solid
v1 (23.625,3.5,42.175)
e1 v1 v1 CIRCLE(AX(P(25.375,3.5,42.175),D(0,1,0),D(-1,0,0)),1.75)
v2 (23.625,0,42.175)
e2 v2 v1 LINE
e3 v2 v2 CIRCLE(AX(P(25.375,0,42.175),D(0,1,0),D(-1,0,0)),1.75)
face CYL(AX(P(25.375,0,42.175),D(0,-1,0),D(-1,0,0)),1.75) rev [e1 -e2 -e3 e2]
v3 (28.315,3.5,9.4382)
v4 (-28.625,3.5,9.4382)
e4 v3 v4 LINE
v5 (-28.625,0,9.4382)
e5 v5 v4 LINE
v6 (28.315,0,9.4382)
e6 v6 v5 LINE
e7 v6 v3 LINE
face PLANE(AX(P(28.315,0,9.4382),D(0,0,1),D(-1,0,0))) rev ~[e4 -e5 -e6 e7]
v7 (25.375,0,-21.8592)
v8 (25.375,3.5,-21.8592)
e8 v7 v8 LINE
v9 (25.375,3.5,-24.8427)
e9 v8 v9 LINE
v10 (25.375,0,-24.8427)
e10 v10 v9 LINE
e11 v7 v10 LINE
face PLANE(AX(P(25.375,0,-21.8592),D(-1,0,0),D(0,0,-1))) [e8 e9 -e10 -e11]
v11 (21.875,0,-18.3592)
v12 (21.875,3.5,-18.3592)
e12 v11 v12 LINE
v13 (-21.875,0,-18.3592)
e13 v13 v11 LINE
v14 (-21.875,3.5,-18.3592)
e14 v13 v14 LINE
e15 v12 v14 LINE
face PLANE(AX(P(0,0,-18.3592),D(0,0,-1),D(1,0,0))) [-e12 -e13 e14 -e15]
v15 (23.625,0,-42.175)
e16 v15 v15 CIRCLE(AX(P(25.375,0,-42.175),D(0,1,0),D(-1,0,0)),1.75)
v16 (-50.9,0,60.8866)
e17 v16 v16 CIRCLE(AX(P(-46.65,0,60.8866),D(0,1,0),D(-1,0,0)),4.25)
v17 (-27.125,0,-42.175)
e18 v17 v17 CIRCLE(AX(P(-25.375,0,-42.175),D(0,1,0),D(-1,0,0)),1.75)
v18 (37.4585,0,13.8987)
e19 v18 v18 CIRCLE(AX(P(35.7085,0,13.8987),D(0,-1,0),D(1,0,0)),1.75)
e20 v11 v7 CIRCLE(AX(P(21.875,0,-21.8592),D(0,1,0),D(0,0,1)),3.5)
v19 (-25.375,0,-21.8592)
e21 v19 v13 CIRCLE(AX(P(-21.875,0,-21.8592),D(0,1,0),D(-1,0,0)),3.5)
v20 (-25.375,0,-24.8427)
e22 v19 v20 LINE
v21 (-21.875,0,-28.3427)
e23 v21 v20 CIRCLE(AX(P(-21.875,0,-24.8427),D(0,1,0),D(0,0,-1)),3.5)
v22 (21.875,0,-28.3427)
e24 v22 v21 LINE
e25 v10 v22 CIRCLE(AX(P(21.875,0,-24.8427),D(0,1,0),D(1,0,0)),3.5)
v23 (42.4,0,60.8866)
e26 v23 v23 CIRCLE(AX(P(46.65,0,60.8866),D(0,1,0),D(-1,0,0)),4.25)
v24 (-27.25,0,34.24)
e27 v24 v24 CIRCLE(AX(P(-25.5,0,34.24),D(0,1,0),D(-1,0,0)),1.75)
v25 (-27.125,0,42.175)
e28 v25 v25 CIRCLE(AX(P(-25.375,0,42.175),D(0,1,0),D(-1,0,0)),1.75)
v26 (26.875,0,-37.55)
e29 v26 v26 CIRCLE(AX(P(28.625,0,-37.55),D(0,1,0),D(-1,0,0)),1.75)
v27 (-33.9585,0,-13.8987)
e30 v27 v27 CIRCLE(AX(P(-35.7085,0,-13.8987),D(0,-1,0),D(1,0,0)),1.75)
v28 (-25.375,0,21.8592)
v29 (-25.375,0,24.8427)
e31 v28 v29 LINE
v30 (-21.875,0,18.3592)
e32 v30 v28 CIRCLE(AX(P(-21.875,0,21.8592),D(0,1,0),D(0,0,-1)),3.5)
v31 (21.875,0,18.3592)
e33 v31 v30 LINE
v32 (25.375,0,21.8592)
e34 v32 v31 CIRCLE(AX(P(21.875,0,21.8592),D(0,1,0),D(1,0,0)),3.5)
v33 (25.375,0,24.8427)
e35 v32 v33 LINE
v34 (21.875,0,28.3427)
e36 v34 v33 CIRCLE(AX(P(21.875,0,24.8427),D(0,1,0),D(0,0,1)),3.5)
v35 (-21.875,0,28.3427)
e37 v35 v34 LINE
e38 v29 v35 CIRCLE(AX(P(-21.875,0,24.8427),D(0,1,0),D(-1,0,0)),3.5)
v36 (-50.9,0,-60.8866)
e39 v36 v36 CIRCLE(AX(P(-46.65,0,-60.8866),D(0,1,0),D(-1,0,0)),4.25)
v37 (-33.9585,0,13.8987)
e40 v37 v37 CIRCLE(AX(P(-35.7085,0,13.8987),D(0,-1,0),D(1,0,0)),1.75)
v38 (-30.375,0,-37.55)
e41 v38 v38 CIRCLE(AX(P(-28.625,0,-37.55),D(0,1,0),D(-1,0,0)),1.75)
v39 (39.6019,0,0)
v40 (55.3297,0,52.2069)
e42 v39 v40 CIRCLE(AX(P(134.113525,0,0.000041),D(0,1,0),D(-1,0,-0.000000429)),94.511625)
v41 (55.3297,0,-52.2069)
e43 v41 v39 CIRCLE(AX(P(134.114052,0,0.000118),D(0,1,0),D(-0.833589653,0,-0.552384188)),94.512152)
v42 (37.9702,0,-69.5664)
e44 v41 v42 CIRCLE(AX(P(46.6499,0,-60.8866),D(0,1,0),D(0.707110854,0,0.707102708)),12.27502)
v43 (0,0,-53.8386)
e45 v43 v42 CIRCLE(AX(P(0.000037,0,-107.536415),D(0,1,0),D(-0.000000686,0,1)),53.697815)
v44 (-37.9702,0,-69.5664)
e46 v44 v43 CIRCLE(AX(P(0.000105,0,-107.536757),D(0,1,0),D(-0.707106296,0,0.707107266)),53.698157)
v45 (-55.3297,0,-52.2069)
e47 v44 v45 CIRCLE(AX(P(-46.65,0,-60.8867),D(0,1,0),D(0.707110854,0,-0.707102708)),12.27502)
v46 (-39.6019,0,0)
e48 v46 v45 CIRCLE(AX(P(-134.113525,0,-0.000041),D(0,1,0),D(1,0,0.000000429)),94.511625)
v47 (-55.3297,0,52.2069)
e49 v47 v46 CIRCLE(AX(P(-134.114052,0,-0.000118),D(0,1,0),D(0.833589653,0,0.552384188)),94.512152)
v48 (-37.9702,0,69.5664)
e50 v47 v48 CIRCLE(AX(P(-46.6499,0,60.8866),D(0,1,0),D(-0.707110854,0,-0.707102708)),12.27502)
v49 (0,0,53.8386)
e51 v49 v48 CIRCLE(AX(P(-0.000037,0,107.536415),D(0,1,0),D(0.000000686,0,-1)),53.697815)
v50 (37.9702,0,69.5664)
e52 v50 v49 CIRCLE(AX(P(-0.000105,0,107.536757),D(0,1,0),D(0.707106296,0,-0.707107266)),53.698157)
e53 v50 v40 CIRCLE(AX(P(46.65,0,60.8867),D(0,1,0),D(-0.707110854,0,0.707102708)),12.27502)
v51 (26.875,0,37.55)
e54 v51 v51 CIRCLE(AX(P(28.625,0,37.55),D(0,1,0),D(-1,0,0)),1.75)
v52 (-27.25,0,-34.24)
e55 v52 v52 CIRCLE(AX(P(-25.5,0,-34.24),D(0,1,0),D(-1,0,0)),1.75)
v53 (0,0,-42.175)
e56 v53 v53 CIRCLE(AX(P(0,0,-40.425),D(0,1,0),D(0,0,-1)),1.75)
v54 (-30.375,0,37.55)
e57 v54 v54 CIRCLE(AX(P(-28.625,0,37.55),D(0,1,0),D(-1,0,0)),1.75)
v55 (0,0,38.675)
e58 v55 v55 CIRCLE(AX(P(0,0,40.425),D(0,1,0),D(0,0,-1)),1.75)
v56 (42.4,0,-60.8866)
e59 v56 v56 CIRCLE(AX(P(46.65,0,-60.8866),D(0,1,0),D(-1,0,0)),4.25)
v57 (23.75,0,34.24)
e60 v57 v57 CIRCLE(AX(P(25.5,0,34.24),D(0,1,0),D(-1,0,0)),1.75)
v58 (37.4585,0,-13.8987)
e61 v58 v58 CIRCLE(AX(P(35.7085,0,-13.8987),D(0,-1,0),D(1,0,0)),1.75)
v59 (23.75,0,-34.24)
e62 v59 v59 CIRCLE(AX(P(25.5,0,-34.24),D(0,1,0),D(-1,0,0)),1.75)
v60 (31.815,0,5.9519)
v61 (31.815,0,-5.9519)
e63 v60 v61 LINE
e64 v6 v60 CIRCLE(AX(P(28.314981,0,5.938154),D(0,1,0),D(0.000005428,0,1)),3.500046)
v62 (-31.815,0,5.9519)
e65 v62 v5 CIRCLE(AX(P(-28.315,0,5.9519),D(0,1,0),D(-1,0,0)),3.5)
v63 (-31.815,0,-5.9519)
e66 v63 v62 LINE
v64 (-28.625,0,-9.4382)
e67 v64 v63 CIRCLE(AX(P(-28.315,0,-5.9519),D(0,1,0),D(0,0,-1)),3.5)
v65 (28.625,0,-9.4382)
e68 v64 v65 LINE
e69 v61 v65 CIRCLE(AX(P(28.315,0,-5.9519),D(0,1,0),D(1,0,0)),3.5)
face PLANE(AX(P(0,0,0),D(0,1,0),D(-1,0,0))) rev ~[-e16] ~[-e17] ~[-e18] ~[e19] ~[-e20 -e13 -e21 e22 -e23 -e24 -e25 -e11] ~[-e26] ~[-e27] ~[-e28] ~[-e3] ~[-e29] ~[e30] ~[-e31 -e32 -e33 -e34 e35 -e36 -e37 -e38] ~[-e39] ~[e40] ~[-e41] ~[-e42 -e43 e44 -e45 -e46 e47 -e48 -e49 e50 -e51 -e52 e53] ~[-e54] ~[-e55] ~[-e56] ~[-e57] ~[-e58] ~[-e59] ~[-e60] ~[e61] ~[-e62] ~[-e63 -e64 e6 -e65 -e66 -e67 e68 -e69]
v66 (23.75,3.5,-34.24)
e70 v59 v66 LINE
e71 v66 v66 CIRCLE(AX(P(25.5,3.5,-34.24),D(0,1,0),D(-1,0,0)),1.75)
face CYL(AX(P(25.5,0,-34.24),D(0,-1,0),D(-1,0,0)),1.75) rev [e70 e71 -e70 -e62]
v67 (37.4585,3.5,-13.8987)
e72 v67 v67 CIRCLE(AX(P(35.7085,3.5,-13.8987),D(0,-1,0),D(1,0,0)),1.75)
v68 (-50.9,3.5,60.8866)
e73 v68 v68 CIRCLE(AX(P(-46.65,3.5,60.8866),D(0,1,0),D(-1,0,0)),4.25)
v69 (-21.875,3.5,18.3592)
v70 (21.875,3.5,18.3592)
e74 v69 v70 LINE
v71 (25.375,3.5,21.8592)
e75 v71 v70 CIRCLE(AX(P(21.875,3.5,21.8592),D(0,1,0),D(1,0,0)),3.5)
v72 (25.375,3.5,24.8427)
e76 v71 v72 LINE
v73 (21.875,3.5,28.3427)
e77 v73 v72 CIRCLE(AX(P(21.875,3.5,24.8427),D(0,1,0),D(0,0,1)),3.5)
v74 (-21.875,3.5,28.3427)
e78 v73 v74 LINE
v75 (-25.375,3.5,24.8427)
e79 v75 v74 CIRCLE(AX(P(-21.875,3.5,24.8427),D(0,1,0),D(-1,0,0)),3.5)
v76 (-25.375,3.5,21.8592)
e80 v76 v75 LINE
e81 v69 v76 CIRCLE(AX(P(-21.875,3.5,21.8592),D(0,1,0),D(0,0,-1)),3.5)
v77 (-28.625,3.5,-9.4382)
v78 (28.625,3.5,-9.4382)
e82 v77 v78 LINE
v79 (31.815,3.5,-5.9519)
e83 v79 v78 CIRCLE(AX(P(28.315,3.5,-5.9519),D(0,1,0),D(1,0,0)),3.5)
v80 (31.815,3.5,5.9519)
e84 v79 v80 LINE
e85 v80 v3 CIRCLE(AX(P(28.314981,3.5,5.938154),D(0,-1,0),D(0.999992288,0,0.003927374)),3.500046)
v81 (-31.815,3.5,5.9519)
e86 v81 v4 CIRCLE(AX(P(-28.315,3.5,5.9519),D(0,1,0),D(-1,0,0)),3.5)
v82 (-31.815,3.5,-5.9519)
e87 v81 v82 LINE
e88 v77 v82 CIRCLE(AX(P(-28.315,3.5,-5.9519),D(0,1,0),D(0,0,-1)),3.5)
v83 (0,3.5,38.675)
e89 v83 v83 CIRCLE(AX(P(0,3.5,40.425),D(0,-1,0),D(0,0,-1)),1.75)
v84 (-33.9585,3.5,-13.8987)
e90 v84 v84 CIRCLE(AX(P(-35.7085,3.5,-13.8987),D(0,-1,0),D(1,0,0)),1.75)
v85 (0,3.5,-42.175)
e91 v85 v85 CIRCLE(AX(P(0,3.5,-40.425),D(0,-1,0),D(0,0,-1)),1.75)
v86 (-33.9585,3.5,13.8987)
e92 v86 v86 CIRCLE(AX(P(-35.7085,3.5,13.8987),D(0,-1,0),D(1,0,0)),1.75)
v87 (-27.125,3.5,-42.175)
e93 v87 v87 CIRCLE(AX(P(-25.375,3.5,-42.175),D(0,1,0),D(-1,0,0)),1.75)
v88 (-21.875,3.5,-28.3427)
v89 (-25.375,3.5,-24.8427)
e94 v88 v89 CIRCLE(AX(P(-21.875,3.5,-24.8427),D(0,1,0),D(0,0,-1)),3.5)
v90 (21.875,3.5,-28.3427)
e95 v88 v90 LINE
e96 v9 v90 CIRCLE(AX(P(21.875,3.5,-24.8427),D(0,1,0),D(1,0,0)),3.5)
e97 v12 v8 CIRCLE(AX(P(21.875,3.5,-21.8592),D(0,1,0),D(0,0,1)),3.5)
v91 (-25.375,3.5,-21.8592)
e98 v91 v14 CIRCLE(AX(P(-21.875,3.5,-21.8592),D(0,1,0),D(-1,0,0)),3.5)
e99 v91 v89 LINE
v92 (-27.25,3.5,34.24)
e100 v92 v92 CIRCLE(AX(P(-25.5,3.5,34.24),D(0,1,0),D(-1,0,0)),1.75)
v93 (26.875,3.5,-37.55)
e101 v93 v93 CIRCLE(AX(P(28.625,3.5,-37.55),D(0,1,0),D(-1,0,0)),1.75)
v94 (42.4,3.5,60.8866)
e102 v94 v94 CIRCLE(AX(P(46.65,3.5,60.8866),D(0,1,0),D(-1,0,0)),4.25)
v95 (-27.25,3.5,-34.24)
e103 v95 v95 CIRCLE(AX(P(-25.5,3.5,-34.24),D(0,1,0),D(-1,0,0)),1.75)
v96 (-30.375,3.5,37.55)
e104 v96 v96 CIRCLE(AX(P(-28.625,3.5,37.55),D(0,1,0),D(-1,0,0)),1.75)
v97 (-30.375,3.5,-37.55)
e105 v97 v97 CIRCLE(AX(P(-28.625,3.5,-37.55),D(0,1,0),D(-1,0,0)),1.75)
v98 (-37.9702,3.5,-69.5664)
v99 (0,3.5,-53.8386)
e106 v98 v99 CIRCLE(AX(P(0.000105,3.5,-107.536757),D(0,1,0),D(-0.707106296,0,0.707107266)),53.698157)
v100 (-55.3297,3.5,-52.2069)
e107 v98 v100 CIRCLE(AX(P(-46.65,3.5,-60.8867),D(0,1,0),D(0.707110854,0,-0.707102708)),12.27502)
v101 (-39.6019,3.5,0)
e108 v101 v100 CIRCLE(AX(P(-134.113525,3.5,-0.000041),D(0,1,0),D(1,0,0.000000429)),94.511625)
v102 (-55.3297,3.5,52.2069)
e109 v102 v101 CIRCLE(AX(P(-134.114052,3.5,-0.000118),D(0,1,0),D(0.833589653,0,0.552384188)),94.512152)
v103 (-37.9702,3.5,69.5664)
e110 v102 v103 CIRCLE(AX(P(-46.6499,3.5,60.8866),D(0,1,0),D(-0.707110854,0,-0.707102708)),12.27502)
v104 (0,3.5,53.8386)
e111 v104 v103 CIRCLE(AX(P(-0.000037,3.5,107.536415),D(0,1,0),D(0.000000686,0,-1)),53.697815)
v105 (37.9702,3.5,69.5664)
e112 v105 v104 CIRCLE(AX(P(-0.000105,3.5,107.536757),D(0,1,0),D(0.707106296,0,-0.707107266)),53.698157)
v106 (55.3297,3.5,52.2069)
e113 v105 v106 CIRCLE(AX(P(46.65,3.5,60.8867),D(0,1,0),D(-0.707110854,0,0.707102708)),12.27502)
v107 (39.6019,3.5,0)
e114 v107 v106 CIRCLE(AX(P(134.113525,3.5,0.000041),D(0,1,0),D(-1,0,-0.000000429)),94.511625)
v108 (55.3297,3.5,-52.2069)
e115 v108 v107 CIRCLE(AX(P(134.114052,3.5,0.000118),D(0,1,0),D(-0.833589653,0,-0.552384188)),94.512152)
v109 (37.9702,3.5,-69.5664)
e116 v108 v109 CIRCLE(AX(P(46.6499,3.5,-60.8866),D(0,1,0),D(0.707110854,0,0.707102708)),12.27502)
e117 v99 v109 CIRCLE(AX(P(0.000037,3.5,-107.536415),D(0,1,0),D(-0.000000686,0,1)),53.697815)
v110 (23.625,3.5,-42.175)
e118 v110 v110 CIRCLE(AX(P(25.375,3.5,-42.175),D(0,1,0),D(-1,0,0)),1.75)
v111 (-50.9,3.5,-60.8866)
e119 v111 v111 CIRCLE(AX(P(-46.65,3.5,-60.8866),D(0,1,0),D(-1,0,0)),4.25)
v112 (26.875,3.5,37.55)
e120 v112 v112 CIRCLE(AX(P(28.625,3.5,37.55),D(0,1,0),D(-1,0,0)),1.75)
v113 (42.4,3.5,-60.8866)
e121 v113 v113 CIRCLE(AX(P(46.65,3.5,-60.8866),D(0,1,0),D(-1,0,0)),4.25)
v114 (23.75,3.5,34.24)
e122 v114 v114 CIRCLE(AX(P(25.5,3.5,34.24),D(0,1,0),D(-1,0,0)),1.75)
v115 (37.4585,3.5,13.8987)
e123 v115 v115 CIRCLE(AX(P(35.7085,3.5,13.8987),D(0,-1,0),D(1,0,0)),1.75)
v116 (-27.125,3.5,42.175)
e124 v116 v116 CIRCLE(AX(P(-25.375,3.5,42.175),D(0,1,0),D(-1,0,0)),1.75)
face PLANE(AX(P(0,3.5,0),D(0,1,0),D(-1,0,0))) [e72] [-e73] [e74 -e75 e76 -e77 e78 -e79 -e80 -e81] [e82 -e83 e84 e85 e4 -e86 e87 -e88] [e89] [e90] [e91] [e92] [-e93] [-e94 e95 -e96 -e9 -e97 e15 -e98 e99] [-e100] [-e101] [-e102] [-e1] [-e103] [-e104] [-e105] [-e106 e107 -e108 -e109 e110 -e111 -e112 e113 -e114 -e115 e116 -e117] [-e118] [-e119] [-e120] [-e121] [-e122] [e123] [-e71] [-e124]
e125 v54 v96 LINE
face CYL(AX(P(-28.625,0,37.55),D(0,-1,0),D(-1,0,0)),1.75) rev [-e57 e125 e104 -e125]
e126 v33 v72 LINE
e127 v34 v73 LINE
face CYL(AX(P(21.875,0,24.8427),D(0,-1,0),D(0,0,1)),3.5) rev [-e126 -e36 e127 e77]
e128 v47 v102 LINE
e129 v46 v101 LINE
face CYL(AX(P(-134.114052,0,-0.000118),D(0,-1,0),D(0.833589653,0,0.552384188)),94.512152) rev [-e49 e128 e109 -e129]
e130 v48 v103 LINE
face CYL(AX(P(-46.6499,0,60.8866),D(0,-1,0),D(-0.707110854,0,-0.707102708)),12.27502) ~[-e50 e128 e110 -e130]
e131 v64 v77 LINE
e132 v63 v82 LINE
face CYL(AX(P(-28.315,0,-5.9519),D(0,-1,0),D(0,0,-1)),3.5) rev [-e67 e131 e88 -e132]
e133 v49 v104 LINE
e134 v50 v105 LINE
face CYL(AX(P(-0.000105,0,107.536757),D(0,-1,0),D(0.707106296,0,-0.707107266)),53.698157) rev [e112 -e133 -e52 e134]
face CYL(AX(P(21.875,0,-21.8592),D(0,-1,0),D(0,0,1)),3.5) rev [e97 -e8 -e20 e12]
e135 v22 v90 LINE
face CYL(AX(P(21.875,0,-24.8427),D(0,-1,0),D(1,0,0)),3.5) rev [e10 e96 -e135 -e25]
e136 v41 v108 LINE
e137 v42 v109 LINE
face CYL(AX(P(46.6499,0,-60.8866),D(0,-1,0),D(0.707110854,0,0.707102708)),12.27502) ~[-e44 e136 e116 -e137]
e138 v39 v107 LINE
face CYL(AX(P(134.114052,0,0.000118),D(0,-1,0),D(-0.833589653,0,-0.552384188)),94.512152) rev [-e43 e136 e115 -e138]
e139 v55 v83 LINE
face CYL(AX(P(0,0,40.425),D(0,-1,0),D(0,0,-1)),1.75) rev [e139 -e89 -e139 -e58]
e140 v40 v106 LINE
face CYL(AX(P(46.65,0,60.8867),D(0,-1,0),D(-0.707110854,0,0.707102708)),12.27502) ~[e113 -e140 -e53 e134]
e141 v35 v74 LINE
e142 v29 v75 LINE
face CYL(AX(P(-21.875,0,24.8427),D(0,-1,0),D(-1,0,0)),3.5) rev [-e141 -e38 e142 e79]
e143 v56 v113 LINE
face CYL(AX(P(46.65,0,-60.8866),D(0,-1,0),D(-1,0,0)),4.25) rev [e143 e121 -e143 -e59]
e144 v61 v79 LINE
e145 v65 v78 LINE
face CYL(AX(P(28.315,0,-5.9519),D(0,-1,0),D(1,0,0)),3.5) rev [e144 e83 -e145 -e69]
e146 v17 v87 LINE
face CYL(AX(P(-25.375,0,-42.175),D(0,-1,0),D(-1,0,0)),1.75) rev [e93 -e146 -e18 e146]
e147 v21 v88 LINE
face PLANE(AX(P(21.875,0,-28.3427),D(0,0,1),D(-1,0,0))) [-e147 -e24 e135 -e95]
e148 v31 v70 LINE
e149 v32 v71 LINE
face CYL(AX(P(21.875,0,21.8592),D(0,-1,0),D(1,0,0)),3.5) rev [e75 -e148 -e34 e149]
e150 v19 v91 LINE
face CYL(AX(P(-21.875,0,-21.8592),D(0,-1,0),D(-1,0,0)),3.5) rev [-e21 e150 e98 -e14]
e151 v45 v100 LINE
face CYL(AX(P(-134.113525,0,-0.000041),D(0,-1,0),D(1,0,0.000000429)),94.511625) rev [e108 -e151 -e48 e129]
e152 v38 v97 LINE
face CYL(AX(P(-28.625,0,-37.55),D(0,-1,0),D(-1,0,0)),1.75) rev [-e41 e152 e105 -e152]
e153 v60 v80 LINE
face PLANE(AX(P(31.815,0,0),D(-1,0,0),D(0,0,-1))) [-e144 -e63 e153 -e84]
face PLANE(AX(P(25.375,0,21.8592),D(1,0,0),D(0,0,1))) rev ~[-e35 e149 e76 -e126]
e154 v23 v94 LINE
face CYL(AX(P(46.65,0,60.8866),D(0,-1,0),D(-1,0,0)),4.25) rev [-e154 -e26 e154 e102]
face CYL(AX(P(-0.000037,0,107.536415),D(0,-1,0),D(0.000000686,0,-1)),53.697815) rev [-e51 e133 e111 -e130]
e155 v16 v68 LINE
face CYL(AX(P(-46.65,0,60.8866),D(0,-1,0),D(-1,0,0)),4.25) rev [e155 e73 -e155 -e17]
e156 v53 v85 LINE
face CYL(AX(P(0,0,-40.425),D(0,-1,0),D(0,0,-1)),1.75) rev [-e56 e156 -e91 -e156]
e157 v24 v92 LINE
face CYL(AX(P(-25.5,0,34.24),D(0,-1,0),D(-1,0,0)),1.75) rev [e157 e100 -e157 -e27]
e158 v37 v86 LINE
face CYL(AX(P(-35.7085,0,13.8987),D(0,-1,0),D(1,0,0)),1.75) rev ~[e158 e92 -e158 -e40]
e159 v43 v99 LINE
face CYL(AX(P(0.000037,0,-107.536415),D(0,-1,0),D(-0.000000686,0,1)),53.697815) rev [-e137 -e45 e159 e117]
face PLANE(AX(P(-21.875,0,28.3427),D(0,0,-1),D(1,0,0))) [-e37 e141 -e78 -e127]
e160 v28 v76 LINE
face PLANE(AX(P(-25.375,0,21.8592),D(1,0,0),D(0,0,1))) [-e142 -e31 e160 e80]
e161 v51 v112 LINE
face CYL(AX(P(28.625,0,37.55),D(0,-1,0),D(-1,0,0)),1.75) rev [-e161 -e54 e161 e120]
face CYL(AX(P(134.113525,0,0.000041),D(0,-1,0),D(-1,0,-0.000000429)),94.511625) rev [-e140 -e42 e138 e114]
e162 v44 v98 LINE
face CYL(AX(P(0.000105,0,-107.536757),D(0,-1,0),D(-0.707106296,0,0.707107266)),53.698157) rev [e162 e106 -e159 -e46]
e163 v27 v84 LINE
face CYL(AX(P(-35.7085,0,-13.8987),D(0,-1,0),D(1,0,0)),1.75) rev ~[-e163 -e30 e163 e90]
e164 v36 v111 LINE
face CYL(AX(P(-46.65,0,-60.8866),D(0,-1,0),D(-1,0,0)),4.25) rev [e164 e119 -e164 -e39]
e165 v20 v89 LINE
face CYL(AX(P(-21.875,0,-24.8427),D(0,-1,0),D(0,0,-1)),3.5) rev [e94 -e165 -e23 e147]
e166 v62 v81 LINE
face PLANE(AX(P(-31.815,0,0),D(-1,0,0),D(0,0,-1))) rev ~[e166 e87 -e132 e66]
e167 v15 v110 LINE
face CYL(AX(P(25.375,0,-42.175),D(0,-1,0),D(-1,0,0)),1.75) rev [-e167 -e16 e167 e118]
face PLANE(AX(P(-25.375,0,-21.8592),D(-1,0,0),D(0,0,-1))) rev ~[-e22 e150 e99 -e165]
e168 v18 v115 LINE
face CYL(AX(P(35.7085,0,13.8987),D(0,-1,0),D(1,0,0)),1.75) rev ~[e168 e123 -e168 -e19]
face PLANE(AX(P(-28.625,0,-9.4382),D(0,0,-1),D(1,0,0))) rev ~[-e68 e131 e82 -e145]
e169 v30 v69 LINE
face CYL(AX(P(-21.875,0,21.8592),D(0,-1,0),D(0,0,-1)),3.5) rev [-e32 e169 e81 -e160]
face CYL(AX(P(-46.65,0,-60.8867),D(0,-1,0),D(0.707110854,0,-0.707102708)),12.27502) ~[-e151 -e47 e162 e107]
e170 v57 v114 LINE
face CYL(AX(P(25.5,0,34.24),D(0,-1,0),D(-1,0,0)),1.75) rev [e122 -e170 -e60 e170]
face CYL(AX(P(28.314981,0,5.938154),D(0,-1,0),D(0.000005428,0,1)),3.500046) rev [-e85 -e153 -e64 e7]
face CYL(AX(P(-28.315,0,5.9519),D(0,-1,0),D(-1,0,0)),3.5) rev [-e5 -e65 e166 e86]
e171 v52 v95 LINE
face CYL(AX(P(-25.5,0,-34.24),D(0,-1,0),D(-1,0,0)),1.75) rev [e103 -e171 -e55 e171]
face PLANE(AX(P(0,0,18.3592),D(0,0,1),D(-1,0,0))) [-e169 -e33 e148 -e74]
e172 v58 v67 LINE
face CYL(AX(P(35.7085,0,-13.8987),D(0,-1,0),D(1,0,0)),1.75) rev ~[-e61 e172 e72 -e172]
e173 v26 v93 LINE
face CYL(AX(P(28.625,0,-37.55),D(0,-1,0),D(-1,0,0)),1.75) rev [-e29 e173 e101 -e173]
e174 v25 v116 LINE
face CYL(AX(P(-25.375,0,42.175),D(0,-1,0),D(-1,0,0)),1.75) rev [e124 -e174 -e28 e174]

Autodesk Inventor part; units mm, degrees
ref_plane "YZ Plane" through (0, 0, 0) normal (1, 0, 0) x (0, 1, 0)
ref_plane "XZ Plane" through (0, 0, 0) normal (0, 1, 0) x (-1, 0, 0)
ref_plane "XY Plane" through (0, 0, 0) normal (0, 0, 1) x (1, 0, 0)
sketch "Sketch1" plane through (0, 0, 0) normal (0, 1, 0) x (-1, 0, 0)
  arc A0 (39.6019, 0) -> (55.3297, -52.2069) centre (134.1138, 0) ccw
  circle A1 centre (28.625, -37.55) radius 1.75
  circle A2 centre (25.375, -42.175) radius 1.75
  circle A3 centre (46.65, -60.8866) radius 4.25
  arc A4 (37.9702, -69.5664) -> (55.3297, -52.2069) centre (46.65, -60.8866) ccw
  arc A5 (37.9702, -69.5664) -> (0, -53.8386) centre (0, -107.5366) ccw
  line L0 (28.315, -9.4519) -> (0.0544, -9.4519)
  arc A6 (28.315, -9.4519) -> (28.625, -9.4382) centre (28.315, -5.9519) ccw
  arc A7 (28.315, -9.4519) -> (31.815, -5.9519) centre (28.315, -5.9519) ccw
  line L1 (31.815, 0) -> (31.815, -5.9519)
  circle A8 centre (46.65, -60.8866) radius 4.25
  circle A9 centre (25.375, -42.175) radius 1.75
  circle A10 centre (28.625, -37.55) radius 1.75
  arc A11 (39.6019, 0) -> (55.3297, -52.2069) centre (134.1138, 0) ccw
  arc A12 (37.9702, -69.5664) -> (0, -53.8386) centre (0, -107.5366) ccw
  line L2 (39.6019, 0) -> (0, 0) construction
  line L3 (0, -18.3592) -> (21.875, -18.3592)
  line L4 (25.375, -21.8592) -> (25.375, -24.8427)
  line L5 (21.875, -28.3427) -> (0, -28.3427)
  arc A13 (25.375, -21.8592) -> (21.875, -18.3592) centre (21.875, -21.8592) ccw
  arc A14 (21.875, -28.3427) -> (25.375, -24.8427) centre (21.875, -24.8427) ccw
  arc A15 (0, -42.175) -> (0, -38.675) centre (0, -40.425) ccw
  line L6 (0, -53.8386) -> (0, -42.175) construction
  line L7 (31.815, 0) -> (31.815, 5.9519)
  arc A16 (31.815, 5.9519) -> (28.315, 9.4519) centre (28.315, 5.9519) ccw
  arc A17 (28.625, 9.4382) -> (28.315, 9.4519) centre (28.315, 5.9519) ccw
  line L8 (28.315, 9.4519) -> (0.0544, 9.4519)
  arc A18 (55.3297, 52.2069) -> (39.6019, 0) centre (134.1138, 0) ccw
  circle A19 centre (28.625, 37.55) radius 1.75
  circle A20 centre (25.375, 42.175) radius 1.75
  arc A21 (0, 53.8386) -> (37.9702, 69.5664) centre (0, 107.5366) ccw
  circle A22 centre (46.65, 60.8866) radius 4.25
  arc A23 (55.3297, 52.2069) -> (37.9702, 69.5664) centre (46.65, 60.8866) ccw
  circle A24 centre (46.65, 60.8866) radius 4.25
  circle A25 centre (25.375, 42.175) radius 1.75
  circle A26 centre (28.625, 37.55) radius 1.75
  arc A27 (55.3297, 52.2069) -> (39.6019, 0) centre (134.1138, 0) ccw
  arc A28 (0, 53.8386) -> (37.9702, 69.5664) centre (0, 107.5366) ccw
  line L9 (0, 18.3592) -> (21.875, 18.3592)
  line L10 (25.375, 21.8592) -> (25.375, 24.8427)
  line L11 (21.875, 28.3427) -> (0, 28.3427)
  arc A29 (21.875, 18.3592) -> (25.375, 21.8592) centre (21.875, 21.8592) ccw
  arc A30 (25.375, 24.8427) -> (21.875, 28.3427) centre (21.875, 24.8427) ccw
  arc A31 (0, 38.675) -> (0, 42.175) centre (0, 40.425) ccw
  line L12 (0, 53.8386) -> (0, 42.175) construction
  line L13 (0, 38.675) -> (0, 0) construction
  line L14 (-31.815, 0) -> (-31.815, -5.9519)
  arc A32 (-31.815, -5.9519) -> (-28.315, -9.4519) centre (-28.315, -5.9519) ccw
  arc A33 (-28.625, -9.4382) -> (-28.315, -9.4519) centre (-28.315, -5.9519) ccw
  line L15 (-28.315, -9.4519) -> (-0.0544, -9.4519)
  arc A34 (-55.3297, -52.2069) -> (-39.6019, 0) centre (-134.1138, 0) ccw
  circle A35 centre (-28.625, -37.55) radius 1.75
  circle A36 centre (-25.375, -42.175) radius 1.75
  arc A37 (0, -53.8386) -> (-37.9702, -69.5664) centre (0, -107.5366) ccw
  circle A38 centre (-46.65, -60.8866) radius 4.25
  arc A39 (-55.3297, -52.2069) -> (-37.9702, -69.5664) centre (-46.65, -60.8866) ccw
  circle A40 centre (-46.65, -60.8866) radius 4.25
  circle A41 centre (-25.375, -42.175) radius 1.75
  circle A42 centre (-28.625, -37.55) radius 1.75
  arc A43 (-55.3297, -52.2069) -> (-39.6019, 0) centre (-134.1138, 0) ccw
  arc A44 (0, -53.8386) -> (-37.9702, -69.5664) centre (0, -107.5366) ccw
  line L16 (0, -18.3592) -> (-21.875, -18.3592)
  line L17 (-25.375, -21.8592) -> (-25.375, -24.8427)
  line L18 (-21.875, -28.3427) -> (0, -28.3427)
  arc A45 (-21.875, -18.3592) -> (-25.375, -21.8592) centre (-21.875, -21.8592) ccw
  arc A46 (-25.375, -24.8427) -> (-21.875, -28.3427) centre (-21.875, -24.8427) ccw
  arc A47 (0, -38.675) -> (0, -42.175) centre (0, -40.425) ccw
  line L19 (0, 18.3592) -> (-21.875, 18.3592)
  arc A48 (-25.375, 21.8592) -> (-21.875, 18.3592) centre (-21.875, 21.8592) ccw
  line L20 (-28.315, 9.4382) -> (-0.0544, 9.445)
  arc A49 (-28.315, 9.4382) -> (-31.815, 5.9519) centre (-28.315, 5.9382) ccw
  line L21 (-31.815, 0) -> (-31.815, 5.9519)
  arc A50 (-28.315, 9.4382) -> (-28.6259, 9.4244) centre (-28.315, 5.9382) ccw
  arc A51 (-37.9702, 69.5664) -> (0, 53.8386) centre (0, 107.5366) ccw
  arc A52 (-37.9702, 69.5664) -> (0, 53.8386) centre (0, 107.5366) ccw
  circle A53 centre (-46.65, 60.8866) radius 4.25
  circle A54 centre (-46.65, 60.8866) radius 4.25
  arc A55 (-37.9702, 69.5664) -> (-55.3297, 52.2069) centre (-46.65, 60.8866) ccw
  arc A56 (-21.875, 28.3427) -> (-25.375, 24.8427) centre (-21.875, 24.8427) ccw
  circle A57 centre (-28.625, 37.55) radius 1.75
  circle A58 centre (-25.375, 42.175) radius 1.75
  circle A59 centre (-25.375, 42.175) radius 1.75
  line L22 (-21.875, 28.3427) -> (0, 28.3427)
  arc A60 (0, 42.175) -> (0, 38.675) centre (0, 40.425) ccw
  arc A61 (-39.6019, 0) -> (-55.3297, 52.2069) centre (-134.1138, 0) ccw
  circle A62 centre (-28.625, 37.55) radius 1.75
  line L23 (-25.375, 21.8592) -> (-25.375, 24.8427)
  arc A63 (-39.6019, 0) -> (-55.3297, 52.2069) centre (-134.1138, 0) ccw
  circle A64 centre (-25.5, 34.24) radius 1.75
  circle A65 centre (-25.5, -34.24) radius 1.75
  circle A66 centre (25.5, 34.24) radius 1.75
  circle A67 centre (25.5, -34.24) radius 1.75
  arc A68 (-37.9702, 69.5664) -> (-55.3297, 52.2069) centre (-46.65, 60.8866) ccw
  arc A69 (-55.3297, -52.2069) -> (-37.9702, -69.5664) centre (-46.65, -60.8866) ccw
  arc A70 (55.3297, 52.2069) -> (37.9702, 69.5664) centre (46.65, 60.8866) ccw
  arc A71 (37.9702, -69.5664) -> (55.3297, -52.2069) centre (46.65, -60.8866) ccw
  arc A72 (-37.9702, 69.5664) -> (37.9702, 69.5664) centre (0, 107.5366) ccw
  arc A73 (37.9702, -69.5664) -> (-37.9702, -69.5664) centre (0, -107.5366) ccw
  arc A74 (-55.3297, -52.2069) -> (-55.3297, 52.2069) centre (-134.1138, 0) ccw
  arc A75 (55.3297, 52.2069) -> (55.3297, -52.2069) centre (134.1138, 0) ccw
  line L24 (-21.875, 28.3427) -> (21.875, 28.3427)
  line L25 (21.875, 18.3592) -> (-21.875, 18.3592)
  line L26 (-25.375, 24.8427) -> (-25.375, 21.8592)
  line L27 (25.375, 24.8427) -> (25.375, 21.8592)
  line L28 (-28.315, 9.4382) -> (28.625, 9.4382)
  line L29 (28.625, -9.4382) -> (-28.625, -9.4382)
  line L30 (-31.815, 5.9519) -> (-31.815, -5.9519)
  line L31 (31.815, 5.9519) -> (31.815, -5.9519)
  line L32 (-21.875, -18.3592) -> (21.875, -18.3592)
  line L33 (21.875, -28.3427) -> (-21.875, -28.3427)
  line L34 (-25.375, -21.8592) -> (-25.375, -24.8427)
  line L35 (25.375, -21.8592) -> (25.375, -24.8427)
  arc A76 (-21.875, 28.3427) -> (-25.375, 24.8427) centre (-21.875, 24.8427) ccw
  arc A77 (-25.375, 21.8592) -> (-21.875, 18.3592) centre (-21.875, 21.8592) ccw
  arc A78 (25.375, 24.8427) -> (21.875, 28.3427) centre (21.875, 24.8427) ccw
  arc A79 (21.875, 18.3592) -> (25.375, 21.8592) centre (21.875, 21.8592) ccw
  circle A80 centre (0, 40.425) radius 1.75
  circle A81 centre (0, -40.425) radius 1.75
  point P0 (55.3297, 52.2069)
  point P1 (25.25, -18.3592)
  point P2 (4.2075, -54.5249)
  point P3 (-37.9702, -69.5664)
  point P4 (25.25, 18.3592)
  point P5 (4.2075, 54.5249)
  point P6 (-25.25, -18.3592)
  point P7 (-4.2075, -54.5249)
  point P8 (-25.25, 18.3592)
  point P9 (-4.2075, 54.5249)
  dimension "d93" = 3.5
  dimension "d94" = 37.55
  dimension "d95" = 4.625
  dimension "d96" = 3.5
  dimension "d97" = 3.5
  dimension "d98" = 8.5
  dimension "d100" = 3.5
  dimension "d105" = 3.5
  dimension "d106" = 3.5
  dimension "d107" = 3.5
  dimension "d108" = 3.5
extrude "Extrusion7" add sketch "Sketch1" along normal blind 3.5
sketch "Sketch8" plane through (0, 0, 0) normal (0, -1, 0) x (1, 0, 0)
  circle A0 centre (35.7085, -13.8987) radius 1.75
  circle A1 centre (-35.7085, -13.8987) radius 1.75
  circle A2 centre (35.7085, 13.8987) radius 1.75
  circle A3 centre (-35.7085, 13.8987) radius 1.75
  circle A4 centre (46.65, -60.8866) radius 4.25 projected
  dimension "d120" = 46.9879
  dimension "d121" = 10.9415
extrude "Extrusion8" cut sketch "Sketch8" against normal through all contours A0 | A1 | A2 | A3
properties part number "BAWAH4"
